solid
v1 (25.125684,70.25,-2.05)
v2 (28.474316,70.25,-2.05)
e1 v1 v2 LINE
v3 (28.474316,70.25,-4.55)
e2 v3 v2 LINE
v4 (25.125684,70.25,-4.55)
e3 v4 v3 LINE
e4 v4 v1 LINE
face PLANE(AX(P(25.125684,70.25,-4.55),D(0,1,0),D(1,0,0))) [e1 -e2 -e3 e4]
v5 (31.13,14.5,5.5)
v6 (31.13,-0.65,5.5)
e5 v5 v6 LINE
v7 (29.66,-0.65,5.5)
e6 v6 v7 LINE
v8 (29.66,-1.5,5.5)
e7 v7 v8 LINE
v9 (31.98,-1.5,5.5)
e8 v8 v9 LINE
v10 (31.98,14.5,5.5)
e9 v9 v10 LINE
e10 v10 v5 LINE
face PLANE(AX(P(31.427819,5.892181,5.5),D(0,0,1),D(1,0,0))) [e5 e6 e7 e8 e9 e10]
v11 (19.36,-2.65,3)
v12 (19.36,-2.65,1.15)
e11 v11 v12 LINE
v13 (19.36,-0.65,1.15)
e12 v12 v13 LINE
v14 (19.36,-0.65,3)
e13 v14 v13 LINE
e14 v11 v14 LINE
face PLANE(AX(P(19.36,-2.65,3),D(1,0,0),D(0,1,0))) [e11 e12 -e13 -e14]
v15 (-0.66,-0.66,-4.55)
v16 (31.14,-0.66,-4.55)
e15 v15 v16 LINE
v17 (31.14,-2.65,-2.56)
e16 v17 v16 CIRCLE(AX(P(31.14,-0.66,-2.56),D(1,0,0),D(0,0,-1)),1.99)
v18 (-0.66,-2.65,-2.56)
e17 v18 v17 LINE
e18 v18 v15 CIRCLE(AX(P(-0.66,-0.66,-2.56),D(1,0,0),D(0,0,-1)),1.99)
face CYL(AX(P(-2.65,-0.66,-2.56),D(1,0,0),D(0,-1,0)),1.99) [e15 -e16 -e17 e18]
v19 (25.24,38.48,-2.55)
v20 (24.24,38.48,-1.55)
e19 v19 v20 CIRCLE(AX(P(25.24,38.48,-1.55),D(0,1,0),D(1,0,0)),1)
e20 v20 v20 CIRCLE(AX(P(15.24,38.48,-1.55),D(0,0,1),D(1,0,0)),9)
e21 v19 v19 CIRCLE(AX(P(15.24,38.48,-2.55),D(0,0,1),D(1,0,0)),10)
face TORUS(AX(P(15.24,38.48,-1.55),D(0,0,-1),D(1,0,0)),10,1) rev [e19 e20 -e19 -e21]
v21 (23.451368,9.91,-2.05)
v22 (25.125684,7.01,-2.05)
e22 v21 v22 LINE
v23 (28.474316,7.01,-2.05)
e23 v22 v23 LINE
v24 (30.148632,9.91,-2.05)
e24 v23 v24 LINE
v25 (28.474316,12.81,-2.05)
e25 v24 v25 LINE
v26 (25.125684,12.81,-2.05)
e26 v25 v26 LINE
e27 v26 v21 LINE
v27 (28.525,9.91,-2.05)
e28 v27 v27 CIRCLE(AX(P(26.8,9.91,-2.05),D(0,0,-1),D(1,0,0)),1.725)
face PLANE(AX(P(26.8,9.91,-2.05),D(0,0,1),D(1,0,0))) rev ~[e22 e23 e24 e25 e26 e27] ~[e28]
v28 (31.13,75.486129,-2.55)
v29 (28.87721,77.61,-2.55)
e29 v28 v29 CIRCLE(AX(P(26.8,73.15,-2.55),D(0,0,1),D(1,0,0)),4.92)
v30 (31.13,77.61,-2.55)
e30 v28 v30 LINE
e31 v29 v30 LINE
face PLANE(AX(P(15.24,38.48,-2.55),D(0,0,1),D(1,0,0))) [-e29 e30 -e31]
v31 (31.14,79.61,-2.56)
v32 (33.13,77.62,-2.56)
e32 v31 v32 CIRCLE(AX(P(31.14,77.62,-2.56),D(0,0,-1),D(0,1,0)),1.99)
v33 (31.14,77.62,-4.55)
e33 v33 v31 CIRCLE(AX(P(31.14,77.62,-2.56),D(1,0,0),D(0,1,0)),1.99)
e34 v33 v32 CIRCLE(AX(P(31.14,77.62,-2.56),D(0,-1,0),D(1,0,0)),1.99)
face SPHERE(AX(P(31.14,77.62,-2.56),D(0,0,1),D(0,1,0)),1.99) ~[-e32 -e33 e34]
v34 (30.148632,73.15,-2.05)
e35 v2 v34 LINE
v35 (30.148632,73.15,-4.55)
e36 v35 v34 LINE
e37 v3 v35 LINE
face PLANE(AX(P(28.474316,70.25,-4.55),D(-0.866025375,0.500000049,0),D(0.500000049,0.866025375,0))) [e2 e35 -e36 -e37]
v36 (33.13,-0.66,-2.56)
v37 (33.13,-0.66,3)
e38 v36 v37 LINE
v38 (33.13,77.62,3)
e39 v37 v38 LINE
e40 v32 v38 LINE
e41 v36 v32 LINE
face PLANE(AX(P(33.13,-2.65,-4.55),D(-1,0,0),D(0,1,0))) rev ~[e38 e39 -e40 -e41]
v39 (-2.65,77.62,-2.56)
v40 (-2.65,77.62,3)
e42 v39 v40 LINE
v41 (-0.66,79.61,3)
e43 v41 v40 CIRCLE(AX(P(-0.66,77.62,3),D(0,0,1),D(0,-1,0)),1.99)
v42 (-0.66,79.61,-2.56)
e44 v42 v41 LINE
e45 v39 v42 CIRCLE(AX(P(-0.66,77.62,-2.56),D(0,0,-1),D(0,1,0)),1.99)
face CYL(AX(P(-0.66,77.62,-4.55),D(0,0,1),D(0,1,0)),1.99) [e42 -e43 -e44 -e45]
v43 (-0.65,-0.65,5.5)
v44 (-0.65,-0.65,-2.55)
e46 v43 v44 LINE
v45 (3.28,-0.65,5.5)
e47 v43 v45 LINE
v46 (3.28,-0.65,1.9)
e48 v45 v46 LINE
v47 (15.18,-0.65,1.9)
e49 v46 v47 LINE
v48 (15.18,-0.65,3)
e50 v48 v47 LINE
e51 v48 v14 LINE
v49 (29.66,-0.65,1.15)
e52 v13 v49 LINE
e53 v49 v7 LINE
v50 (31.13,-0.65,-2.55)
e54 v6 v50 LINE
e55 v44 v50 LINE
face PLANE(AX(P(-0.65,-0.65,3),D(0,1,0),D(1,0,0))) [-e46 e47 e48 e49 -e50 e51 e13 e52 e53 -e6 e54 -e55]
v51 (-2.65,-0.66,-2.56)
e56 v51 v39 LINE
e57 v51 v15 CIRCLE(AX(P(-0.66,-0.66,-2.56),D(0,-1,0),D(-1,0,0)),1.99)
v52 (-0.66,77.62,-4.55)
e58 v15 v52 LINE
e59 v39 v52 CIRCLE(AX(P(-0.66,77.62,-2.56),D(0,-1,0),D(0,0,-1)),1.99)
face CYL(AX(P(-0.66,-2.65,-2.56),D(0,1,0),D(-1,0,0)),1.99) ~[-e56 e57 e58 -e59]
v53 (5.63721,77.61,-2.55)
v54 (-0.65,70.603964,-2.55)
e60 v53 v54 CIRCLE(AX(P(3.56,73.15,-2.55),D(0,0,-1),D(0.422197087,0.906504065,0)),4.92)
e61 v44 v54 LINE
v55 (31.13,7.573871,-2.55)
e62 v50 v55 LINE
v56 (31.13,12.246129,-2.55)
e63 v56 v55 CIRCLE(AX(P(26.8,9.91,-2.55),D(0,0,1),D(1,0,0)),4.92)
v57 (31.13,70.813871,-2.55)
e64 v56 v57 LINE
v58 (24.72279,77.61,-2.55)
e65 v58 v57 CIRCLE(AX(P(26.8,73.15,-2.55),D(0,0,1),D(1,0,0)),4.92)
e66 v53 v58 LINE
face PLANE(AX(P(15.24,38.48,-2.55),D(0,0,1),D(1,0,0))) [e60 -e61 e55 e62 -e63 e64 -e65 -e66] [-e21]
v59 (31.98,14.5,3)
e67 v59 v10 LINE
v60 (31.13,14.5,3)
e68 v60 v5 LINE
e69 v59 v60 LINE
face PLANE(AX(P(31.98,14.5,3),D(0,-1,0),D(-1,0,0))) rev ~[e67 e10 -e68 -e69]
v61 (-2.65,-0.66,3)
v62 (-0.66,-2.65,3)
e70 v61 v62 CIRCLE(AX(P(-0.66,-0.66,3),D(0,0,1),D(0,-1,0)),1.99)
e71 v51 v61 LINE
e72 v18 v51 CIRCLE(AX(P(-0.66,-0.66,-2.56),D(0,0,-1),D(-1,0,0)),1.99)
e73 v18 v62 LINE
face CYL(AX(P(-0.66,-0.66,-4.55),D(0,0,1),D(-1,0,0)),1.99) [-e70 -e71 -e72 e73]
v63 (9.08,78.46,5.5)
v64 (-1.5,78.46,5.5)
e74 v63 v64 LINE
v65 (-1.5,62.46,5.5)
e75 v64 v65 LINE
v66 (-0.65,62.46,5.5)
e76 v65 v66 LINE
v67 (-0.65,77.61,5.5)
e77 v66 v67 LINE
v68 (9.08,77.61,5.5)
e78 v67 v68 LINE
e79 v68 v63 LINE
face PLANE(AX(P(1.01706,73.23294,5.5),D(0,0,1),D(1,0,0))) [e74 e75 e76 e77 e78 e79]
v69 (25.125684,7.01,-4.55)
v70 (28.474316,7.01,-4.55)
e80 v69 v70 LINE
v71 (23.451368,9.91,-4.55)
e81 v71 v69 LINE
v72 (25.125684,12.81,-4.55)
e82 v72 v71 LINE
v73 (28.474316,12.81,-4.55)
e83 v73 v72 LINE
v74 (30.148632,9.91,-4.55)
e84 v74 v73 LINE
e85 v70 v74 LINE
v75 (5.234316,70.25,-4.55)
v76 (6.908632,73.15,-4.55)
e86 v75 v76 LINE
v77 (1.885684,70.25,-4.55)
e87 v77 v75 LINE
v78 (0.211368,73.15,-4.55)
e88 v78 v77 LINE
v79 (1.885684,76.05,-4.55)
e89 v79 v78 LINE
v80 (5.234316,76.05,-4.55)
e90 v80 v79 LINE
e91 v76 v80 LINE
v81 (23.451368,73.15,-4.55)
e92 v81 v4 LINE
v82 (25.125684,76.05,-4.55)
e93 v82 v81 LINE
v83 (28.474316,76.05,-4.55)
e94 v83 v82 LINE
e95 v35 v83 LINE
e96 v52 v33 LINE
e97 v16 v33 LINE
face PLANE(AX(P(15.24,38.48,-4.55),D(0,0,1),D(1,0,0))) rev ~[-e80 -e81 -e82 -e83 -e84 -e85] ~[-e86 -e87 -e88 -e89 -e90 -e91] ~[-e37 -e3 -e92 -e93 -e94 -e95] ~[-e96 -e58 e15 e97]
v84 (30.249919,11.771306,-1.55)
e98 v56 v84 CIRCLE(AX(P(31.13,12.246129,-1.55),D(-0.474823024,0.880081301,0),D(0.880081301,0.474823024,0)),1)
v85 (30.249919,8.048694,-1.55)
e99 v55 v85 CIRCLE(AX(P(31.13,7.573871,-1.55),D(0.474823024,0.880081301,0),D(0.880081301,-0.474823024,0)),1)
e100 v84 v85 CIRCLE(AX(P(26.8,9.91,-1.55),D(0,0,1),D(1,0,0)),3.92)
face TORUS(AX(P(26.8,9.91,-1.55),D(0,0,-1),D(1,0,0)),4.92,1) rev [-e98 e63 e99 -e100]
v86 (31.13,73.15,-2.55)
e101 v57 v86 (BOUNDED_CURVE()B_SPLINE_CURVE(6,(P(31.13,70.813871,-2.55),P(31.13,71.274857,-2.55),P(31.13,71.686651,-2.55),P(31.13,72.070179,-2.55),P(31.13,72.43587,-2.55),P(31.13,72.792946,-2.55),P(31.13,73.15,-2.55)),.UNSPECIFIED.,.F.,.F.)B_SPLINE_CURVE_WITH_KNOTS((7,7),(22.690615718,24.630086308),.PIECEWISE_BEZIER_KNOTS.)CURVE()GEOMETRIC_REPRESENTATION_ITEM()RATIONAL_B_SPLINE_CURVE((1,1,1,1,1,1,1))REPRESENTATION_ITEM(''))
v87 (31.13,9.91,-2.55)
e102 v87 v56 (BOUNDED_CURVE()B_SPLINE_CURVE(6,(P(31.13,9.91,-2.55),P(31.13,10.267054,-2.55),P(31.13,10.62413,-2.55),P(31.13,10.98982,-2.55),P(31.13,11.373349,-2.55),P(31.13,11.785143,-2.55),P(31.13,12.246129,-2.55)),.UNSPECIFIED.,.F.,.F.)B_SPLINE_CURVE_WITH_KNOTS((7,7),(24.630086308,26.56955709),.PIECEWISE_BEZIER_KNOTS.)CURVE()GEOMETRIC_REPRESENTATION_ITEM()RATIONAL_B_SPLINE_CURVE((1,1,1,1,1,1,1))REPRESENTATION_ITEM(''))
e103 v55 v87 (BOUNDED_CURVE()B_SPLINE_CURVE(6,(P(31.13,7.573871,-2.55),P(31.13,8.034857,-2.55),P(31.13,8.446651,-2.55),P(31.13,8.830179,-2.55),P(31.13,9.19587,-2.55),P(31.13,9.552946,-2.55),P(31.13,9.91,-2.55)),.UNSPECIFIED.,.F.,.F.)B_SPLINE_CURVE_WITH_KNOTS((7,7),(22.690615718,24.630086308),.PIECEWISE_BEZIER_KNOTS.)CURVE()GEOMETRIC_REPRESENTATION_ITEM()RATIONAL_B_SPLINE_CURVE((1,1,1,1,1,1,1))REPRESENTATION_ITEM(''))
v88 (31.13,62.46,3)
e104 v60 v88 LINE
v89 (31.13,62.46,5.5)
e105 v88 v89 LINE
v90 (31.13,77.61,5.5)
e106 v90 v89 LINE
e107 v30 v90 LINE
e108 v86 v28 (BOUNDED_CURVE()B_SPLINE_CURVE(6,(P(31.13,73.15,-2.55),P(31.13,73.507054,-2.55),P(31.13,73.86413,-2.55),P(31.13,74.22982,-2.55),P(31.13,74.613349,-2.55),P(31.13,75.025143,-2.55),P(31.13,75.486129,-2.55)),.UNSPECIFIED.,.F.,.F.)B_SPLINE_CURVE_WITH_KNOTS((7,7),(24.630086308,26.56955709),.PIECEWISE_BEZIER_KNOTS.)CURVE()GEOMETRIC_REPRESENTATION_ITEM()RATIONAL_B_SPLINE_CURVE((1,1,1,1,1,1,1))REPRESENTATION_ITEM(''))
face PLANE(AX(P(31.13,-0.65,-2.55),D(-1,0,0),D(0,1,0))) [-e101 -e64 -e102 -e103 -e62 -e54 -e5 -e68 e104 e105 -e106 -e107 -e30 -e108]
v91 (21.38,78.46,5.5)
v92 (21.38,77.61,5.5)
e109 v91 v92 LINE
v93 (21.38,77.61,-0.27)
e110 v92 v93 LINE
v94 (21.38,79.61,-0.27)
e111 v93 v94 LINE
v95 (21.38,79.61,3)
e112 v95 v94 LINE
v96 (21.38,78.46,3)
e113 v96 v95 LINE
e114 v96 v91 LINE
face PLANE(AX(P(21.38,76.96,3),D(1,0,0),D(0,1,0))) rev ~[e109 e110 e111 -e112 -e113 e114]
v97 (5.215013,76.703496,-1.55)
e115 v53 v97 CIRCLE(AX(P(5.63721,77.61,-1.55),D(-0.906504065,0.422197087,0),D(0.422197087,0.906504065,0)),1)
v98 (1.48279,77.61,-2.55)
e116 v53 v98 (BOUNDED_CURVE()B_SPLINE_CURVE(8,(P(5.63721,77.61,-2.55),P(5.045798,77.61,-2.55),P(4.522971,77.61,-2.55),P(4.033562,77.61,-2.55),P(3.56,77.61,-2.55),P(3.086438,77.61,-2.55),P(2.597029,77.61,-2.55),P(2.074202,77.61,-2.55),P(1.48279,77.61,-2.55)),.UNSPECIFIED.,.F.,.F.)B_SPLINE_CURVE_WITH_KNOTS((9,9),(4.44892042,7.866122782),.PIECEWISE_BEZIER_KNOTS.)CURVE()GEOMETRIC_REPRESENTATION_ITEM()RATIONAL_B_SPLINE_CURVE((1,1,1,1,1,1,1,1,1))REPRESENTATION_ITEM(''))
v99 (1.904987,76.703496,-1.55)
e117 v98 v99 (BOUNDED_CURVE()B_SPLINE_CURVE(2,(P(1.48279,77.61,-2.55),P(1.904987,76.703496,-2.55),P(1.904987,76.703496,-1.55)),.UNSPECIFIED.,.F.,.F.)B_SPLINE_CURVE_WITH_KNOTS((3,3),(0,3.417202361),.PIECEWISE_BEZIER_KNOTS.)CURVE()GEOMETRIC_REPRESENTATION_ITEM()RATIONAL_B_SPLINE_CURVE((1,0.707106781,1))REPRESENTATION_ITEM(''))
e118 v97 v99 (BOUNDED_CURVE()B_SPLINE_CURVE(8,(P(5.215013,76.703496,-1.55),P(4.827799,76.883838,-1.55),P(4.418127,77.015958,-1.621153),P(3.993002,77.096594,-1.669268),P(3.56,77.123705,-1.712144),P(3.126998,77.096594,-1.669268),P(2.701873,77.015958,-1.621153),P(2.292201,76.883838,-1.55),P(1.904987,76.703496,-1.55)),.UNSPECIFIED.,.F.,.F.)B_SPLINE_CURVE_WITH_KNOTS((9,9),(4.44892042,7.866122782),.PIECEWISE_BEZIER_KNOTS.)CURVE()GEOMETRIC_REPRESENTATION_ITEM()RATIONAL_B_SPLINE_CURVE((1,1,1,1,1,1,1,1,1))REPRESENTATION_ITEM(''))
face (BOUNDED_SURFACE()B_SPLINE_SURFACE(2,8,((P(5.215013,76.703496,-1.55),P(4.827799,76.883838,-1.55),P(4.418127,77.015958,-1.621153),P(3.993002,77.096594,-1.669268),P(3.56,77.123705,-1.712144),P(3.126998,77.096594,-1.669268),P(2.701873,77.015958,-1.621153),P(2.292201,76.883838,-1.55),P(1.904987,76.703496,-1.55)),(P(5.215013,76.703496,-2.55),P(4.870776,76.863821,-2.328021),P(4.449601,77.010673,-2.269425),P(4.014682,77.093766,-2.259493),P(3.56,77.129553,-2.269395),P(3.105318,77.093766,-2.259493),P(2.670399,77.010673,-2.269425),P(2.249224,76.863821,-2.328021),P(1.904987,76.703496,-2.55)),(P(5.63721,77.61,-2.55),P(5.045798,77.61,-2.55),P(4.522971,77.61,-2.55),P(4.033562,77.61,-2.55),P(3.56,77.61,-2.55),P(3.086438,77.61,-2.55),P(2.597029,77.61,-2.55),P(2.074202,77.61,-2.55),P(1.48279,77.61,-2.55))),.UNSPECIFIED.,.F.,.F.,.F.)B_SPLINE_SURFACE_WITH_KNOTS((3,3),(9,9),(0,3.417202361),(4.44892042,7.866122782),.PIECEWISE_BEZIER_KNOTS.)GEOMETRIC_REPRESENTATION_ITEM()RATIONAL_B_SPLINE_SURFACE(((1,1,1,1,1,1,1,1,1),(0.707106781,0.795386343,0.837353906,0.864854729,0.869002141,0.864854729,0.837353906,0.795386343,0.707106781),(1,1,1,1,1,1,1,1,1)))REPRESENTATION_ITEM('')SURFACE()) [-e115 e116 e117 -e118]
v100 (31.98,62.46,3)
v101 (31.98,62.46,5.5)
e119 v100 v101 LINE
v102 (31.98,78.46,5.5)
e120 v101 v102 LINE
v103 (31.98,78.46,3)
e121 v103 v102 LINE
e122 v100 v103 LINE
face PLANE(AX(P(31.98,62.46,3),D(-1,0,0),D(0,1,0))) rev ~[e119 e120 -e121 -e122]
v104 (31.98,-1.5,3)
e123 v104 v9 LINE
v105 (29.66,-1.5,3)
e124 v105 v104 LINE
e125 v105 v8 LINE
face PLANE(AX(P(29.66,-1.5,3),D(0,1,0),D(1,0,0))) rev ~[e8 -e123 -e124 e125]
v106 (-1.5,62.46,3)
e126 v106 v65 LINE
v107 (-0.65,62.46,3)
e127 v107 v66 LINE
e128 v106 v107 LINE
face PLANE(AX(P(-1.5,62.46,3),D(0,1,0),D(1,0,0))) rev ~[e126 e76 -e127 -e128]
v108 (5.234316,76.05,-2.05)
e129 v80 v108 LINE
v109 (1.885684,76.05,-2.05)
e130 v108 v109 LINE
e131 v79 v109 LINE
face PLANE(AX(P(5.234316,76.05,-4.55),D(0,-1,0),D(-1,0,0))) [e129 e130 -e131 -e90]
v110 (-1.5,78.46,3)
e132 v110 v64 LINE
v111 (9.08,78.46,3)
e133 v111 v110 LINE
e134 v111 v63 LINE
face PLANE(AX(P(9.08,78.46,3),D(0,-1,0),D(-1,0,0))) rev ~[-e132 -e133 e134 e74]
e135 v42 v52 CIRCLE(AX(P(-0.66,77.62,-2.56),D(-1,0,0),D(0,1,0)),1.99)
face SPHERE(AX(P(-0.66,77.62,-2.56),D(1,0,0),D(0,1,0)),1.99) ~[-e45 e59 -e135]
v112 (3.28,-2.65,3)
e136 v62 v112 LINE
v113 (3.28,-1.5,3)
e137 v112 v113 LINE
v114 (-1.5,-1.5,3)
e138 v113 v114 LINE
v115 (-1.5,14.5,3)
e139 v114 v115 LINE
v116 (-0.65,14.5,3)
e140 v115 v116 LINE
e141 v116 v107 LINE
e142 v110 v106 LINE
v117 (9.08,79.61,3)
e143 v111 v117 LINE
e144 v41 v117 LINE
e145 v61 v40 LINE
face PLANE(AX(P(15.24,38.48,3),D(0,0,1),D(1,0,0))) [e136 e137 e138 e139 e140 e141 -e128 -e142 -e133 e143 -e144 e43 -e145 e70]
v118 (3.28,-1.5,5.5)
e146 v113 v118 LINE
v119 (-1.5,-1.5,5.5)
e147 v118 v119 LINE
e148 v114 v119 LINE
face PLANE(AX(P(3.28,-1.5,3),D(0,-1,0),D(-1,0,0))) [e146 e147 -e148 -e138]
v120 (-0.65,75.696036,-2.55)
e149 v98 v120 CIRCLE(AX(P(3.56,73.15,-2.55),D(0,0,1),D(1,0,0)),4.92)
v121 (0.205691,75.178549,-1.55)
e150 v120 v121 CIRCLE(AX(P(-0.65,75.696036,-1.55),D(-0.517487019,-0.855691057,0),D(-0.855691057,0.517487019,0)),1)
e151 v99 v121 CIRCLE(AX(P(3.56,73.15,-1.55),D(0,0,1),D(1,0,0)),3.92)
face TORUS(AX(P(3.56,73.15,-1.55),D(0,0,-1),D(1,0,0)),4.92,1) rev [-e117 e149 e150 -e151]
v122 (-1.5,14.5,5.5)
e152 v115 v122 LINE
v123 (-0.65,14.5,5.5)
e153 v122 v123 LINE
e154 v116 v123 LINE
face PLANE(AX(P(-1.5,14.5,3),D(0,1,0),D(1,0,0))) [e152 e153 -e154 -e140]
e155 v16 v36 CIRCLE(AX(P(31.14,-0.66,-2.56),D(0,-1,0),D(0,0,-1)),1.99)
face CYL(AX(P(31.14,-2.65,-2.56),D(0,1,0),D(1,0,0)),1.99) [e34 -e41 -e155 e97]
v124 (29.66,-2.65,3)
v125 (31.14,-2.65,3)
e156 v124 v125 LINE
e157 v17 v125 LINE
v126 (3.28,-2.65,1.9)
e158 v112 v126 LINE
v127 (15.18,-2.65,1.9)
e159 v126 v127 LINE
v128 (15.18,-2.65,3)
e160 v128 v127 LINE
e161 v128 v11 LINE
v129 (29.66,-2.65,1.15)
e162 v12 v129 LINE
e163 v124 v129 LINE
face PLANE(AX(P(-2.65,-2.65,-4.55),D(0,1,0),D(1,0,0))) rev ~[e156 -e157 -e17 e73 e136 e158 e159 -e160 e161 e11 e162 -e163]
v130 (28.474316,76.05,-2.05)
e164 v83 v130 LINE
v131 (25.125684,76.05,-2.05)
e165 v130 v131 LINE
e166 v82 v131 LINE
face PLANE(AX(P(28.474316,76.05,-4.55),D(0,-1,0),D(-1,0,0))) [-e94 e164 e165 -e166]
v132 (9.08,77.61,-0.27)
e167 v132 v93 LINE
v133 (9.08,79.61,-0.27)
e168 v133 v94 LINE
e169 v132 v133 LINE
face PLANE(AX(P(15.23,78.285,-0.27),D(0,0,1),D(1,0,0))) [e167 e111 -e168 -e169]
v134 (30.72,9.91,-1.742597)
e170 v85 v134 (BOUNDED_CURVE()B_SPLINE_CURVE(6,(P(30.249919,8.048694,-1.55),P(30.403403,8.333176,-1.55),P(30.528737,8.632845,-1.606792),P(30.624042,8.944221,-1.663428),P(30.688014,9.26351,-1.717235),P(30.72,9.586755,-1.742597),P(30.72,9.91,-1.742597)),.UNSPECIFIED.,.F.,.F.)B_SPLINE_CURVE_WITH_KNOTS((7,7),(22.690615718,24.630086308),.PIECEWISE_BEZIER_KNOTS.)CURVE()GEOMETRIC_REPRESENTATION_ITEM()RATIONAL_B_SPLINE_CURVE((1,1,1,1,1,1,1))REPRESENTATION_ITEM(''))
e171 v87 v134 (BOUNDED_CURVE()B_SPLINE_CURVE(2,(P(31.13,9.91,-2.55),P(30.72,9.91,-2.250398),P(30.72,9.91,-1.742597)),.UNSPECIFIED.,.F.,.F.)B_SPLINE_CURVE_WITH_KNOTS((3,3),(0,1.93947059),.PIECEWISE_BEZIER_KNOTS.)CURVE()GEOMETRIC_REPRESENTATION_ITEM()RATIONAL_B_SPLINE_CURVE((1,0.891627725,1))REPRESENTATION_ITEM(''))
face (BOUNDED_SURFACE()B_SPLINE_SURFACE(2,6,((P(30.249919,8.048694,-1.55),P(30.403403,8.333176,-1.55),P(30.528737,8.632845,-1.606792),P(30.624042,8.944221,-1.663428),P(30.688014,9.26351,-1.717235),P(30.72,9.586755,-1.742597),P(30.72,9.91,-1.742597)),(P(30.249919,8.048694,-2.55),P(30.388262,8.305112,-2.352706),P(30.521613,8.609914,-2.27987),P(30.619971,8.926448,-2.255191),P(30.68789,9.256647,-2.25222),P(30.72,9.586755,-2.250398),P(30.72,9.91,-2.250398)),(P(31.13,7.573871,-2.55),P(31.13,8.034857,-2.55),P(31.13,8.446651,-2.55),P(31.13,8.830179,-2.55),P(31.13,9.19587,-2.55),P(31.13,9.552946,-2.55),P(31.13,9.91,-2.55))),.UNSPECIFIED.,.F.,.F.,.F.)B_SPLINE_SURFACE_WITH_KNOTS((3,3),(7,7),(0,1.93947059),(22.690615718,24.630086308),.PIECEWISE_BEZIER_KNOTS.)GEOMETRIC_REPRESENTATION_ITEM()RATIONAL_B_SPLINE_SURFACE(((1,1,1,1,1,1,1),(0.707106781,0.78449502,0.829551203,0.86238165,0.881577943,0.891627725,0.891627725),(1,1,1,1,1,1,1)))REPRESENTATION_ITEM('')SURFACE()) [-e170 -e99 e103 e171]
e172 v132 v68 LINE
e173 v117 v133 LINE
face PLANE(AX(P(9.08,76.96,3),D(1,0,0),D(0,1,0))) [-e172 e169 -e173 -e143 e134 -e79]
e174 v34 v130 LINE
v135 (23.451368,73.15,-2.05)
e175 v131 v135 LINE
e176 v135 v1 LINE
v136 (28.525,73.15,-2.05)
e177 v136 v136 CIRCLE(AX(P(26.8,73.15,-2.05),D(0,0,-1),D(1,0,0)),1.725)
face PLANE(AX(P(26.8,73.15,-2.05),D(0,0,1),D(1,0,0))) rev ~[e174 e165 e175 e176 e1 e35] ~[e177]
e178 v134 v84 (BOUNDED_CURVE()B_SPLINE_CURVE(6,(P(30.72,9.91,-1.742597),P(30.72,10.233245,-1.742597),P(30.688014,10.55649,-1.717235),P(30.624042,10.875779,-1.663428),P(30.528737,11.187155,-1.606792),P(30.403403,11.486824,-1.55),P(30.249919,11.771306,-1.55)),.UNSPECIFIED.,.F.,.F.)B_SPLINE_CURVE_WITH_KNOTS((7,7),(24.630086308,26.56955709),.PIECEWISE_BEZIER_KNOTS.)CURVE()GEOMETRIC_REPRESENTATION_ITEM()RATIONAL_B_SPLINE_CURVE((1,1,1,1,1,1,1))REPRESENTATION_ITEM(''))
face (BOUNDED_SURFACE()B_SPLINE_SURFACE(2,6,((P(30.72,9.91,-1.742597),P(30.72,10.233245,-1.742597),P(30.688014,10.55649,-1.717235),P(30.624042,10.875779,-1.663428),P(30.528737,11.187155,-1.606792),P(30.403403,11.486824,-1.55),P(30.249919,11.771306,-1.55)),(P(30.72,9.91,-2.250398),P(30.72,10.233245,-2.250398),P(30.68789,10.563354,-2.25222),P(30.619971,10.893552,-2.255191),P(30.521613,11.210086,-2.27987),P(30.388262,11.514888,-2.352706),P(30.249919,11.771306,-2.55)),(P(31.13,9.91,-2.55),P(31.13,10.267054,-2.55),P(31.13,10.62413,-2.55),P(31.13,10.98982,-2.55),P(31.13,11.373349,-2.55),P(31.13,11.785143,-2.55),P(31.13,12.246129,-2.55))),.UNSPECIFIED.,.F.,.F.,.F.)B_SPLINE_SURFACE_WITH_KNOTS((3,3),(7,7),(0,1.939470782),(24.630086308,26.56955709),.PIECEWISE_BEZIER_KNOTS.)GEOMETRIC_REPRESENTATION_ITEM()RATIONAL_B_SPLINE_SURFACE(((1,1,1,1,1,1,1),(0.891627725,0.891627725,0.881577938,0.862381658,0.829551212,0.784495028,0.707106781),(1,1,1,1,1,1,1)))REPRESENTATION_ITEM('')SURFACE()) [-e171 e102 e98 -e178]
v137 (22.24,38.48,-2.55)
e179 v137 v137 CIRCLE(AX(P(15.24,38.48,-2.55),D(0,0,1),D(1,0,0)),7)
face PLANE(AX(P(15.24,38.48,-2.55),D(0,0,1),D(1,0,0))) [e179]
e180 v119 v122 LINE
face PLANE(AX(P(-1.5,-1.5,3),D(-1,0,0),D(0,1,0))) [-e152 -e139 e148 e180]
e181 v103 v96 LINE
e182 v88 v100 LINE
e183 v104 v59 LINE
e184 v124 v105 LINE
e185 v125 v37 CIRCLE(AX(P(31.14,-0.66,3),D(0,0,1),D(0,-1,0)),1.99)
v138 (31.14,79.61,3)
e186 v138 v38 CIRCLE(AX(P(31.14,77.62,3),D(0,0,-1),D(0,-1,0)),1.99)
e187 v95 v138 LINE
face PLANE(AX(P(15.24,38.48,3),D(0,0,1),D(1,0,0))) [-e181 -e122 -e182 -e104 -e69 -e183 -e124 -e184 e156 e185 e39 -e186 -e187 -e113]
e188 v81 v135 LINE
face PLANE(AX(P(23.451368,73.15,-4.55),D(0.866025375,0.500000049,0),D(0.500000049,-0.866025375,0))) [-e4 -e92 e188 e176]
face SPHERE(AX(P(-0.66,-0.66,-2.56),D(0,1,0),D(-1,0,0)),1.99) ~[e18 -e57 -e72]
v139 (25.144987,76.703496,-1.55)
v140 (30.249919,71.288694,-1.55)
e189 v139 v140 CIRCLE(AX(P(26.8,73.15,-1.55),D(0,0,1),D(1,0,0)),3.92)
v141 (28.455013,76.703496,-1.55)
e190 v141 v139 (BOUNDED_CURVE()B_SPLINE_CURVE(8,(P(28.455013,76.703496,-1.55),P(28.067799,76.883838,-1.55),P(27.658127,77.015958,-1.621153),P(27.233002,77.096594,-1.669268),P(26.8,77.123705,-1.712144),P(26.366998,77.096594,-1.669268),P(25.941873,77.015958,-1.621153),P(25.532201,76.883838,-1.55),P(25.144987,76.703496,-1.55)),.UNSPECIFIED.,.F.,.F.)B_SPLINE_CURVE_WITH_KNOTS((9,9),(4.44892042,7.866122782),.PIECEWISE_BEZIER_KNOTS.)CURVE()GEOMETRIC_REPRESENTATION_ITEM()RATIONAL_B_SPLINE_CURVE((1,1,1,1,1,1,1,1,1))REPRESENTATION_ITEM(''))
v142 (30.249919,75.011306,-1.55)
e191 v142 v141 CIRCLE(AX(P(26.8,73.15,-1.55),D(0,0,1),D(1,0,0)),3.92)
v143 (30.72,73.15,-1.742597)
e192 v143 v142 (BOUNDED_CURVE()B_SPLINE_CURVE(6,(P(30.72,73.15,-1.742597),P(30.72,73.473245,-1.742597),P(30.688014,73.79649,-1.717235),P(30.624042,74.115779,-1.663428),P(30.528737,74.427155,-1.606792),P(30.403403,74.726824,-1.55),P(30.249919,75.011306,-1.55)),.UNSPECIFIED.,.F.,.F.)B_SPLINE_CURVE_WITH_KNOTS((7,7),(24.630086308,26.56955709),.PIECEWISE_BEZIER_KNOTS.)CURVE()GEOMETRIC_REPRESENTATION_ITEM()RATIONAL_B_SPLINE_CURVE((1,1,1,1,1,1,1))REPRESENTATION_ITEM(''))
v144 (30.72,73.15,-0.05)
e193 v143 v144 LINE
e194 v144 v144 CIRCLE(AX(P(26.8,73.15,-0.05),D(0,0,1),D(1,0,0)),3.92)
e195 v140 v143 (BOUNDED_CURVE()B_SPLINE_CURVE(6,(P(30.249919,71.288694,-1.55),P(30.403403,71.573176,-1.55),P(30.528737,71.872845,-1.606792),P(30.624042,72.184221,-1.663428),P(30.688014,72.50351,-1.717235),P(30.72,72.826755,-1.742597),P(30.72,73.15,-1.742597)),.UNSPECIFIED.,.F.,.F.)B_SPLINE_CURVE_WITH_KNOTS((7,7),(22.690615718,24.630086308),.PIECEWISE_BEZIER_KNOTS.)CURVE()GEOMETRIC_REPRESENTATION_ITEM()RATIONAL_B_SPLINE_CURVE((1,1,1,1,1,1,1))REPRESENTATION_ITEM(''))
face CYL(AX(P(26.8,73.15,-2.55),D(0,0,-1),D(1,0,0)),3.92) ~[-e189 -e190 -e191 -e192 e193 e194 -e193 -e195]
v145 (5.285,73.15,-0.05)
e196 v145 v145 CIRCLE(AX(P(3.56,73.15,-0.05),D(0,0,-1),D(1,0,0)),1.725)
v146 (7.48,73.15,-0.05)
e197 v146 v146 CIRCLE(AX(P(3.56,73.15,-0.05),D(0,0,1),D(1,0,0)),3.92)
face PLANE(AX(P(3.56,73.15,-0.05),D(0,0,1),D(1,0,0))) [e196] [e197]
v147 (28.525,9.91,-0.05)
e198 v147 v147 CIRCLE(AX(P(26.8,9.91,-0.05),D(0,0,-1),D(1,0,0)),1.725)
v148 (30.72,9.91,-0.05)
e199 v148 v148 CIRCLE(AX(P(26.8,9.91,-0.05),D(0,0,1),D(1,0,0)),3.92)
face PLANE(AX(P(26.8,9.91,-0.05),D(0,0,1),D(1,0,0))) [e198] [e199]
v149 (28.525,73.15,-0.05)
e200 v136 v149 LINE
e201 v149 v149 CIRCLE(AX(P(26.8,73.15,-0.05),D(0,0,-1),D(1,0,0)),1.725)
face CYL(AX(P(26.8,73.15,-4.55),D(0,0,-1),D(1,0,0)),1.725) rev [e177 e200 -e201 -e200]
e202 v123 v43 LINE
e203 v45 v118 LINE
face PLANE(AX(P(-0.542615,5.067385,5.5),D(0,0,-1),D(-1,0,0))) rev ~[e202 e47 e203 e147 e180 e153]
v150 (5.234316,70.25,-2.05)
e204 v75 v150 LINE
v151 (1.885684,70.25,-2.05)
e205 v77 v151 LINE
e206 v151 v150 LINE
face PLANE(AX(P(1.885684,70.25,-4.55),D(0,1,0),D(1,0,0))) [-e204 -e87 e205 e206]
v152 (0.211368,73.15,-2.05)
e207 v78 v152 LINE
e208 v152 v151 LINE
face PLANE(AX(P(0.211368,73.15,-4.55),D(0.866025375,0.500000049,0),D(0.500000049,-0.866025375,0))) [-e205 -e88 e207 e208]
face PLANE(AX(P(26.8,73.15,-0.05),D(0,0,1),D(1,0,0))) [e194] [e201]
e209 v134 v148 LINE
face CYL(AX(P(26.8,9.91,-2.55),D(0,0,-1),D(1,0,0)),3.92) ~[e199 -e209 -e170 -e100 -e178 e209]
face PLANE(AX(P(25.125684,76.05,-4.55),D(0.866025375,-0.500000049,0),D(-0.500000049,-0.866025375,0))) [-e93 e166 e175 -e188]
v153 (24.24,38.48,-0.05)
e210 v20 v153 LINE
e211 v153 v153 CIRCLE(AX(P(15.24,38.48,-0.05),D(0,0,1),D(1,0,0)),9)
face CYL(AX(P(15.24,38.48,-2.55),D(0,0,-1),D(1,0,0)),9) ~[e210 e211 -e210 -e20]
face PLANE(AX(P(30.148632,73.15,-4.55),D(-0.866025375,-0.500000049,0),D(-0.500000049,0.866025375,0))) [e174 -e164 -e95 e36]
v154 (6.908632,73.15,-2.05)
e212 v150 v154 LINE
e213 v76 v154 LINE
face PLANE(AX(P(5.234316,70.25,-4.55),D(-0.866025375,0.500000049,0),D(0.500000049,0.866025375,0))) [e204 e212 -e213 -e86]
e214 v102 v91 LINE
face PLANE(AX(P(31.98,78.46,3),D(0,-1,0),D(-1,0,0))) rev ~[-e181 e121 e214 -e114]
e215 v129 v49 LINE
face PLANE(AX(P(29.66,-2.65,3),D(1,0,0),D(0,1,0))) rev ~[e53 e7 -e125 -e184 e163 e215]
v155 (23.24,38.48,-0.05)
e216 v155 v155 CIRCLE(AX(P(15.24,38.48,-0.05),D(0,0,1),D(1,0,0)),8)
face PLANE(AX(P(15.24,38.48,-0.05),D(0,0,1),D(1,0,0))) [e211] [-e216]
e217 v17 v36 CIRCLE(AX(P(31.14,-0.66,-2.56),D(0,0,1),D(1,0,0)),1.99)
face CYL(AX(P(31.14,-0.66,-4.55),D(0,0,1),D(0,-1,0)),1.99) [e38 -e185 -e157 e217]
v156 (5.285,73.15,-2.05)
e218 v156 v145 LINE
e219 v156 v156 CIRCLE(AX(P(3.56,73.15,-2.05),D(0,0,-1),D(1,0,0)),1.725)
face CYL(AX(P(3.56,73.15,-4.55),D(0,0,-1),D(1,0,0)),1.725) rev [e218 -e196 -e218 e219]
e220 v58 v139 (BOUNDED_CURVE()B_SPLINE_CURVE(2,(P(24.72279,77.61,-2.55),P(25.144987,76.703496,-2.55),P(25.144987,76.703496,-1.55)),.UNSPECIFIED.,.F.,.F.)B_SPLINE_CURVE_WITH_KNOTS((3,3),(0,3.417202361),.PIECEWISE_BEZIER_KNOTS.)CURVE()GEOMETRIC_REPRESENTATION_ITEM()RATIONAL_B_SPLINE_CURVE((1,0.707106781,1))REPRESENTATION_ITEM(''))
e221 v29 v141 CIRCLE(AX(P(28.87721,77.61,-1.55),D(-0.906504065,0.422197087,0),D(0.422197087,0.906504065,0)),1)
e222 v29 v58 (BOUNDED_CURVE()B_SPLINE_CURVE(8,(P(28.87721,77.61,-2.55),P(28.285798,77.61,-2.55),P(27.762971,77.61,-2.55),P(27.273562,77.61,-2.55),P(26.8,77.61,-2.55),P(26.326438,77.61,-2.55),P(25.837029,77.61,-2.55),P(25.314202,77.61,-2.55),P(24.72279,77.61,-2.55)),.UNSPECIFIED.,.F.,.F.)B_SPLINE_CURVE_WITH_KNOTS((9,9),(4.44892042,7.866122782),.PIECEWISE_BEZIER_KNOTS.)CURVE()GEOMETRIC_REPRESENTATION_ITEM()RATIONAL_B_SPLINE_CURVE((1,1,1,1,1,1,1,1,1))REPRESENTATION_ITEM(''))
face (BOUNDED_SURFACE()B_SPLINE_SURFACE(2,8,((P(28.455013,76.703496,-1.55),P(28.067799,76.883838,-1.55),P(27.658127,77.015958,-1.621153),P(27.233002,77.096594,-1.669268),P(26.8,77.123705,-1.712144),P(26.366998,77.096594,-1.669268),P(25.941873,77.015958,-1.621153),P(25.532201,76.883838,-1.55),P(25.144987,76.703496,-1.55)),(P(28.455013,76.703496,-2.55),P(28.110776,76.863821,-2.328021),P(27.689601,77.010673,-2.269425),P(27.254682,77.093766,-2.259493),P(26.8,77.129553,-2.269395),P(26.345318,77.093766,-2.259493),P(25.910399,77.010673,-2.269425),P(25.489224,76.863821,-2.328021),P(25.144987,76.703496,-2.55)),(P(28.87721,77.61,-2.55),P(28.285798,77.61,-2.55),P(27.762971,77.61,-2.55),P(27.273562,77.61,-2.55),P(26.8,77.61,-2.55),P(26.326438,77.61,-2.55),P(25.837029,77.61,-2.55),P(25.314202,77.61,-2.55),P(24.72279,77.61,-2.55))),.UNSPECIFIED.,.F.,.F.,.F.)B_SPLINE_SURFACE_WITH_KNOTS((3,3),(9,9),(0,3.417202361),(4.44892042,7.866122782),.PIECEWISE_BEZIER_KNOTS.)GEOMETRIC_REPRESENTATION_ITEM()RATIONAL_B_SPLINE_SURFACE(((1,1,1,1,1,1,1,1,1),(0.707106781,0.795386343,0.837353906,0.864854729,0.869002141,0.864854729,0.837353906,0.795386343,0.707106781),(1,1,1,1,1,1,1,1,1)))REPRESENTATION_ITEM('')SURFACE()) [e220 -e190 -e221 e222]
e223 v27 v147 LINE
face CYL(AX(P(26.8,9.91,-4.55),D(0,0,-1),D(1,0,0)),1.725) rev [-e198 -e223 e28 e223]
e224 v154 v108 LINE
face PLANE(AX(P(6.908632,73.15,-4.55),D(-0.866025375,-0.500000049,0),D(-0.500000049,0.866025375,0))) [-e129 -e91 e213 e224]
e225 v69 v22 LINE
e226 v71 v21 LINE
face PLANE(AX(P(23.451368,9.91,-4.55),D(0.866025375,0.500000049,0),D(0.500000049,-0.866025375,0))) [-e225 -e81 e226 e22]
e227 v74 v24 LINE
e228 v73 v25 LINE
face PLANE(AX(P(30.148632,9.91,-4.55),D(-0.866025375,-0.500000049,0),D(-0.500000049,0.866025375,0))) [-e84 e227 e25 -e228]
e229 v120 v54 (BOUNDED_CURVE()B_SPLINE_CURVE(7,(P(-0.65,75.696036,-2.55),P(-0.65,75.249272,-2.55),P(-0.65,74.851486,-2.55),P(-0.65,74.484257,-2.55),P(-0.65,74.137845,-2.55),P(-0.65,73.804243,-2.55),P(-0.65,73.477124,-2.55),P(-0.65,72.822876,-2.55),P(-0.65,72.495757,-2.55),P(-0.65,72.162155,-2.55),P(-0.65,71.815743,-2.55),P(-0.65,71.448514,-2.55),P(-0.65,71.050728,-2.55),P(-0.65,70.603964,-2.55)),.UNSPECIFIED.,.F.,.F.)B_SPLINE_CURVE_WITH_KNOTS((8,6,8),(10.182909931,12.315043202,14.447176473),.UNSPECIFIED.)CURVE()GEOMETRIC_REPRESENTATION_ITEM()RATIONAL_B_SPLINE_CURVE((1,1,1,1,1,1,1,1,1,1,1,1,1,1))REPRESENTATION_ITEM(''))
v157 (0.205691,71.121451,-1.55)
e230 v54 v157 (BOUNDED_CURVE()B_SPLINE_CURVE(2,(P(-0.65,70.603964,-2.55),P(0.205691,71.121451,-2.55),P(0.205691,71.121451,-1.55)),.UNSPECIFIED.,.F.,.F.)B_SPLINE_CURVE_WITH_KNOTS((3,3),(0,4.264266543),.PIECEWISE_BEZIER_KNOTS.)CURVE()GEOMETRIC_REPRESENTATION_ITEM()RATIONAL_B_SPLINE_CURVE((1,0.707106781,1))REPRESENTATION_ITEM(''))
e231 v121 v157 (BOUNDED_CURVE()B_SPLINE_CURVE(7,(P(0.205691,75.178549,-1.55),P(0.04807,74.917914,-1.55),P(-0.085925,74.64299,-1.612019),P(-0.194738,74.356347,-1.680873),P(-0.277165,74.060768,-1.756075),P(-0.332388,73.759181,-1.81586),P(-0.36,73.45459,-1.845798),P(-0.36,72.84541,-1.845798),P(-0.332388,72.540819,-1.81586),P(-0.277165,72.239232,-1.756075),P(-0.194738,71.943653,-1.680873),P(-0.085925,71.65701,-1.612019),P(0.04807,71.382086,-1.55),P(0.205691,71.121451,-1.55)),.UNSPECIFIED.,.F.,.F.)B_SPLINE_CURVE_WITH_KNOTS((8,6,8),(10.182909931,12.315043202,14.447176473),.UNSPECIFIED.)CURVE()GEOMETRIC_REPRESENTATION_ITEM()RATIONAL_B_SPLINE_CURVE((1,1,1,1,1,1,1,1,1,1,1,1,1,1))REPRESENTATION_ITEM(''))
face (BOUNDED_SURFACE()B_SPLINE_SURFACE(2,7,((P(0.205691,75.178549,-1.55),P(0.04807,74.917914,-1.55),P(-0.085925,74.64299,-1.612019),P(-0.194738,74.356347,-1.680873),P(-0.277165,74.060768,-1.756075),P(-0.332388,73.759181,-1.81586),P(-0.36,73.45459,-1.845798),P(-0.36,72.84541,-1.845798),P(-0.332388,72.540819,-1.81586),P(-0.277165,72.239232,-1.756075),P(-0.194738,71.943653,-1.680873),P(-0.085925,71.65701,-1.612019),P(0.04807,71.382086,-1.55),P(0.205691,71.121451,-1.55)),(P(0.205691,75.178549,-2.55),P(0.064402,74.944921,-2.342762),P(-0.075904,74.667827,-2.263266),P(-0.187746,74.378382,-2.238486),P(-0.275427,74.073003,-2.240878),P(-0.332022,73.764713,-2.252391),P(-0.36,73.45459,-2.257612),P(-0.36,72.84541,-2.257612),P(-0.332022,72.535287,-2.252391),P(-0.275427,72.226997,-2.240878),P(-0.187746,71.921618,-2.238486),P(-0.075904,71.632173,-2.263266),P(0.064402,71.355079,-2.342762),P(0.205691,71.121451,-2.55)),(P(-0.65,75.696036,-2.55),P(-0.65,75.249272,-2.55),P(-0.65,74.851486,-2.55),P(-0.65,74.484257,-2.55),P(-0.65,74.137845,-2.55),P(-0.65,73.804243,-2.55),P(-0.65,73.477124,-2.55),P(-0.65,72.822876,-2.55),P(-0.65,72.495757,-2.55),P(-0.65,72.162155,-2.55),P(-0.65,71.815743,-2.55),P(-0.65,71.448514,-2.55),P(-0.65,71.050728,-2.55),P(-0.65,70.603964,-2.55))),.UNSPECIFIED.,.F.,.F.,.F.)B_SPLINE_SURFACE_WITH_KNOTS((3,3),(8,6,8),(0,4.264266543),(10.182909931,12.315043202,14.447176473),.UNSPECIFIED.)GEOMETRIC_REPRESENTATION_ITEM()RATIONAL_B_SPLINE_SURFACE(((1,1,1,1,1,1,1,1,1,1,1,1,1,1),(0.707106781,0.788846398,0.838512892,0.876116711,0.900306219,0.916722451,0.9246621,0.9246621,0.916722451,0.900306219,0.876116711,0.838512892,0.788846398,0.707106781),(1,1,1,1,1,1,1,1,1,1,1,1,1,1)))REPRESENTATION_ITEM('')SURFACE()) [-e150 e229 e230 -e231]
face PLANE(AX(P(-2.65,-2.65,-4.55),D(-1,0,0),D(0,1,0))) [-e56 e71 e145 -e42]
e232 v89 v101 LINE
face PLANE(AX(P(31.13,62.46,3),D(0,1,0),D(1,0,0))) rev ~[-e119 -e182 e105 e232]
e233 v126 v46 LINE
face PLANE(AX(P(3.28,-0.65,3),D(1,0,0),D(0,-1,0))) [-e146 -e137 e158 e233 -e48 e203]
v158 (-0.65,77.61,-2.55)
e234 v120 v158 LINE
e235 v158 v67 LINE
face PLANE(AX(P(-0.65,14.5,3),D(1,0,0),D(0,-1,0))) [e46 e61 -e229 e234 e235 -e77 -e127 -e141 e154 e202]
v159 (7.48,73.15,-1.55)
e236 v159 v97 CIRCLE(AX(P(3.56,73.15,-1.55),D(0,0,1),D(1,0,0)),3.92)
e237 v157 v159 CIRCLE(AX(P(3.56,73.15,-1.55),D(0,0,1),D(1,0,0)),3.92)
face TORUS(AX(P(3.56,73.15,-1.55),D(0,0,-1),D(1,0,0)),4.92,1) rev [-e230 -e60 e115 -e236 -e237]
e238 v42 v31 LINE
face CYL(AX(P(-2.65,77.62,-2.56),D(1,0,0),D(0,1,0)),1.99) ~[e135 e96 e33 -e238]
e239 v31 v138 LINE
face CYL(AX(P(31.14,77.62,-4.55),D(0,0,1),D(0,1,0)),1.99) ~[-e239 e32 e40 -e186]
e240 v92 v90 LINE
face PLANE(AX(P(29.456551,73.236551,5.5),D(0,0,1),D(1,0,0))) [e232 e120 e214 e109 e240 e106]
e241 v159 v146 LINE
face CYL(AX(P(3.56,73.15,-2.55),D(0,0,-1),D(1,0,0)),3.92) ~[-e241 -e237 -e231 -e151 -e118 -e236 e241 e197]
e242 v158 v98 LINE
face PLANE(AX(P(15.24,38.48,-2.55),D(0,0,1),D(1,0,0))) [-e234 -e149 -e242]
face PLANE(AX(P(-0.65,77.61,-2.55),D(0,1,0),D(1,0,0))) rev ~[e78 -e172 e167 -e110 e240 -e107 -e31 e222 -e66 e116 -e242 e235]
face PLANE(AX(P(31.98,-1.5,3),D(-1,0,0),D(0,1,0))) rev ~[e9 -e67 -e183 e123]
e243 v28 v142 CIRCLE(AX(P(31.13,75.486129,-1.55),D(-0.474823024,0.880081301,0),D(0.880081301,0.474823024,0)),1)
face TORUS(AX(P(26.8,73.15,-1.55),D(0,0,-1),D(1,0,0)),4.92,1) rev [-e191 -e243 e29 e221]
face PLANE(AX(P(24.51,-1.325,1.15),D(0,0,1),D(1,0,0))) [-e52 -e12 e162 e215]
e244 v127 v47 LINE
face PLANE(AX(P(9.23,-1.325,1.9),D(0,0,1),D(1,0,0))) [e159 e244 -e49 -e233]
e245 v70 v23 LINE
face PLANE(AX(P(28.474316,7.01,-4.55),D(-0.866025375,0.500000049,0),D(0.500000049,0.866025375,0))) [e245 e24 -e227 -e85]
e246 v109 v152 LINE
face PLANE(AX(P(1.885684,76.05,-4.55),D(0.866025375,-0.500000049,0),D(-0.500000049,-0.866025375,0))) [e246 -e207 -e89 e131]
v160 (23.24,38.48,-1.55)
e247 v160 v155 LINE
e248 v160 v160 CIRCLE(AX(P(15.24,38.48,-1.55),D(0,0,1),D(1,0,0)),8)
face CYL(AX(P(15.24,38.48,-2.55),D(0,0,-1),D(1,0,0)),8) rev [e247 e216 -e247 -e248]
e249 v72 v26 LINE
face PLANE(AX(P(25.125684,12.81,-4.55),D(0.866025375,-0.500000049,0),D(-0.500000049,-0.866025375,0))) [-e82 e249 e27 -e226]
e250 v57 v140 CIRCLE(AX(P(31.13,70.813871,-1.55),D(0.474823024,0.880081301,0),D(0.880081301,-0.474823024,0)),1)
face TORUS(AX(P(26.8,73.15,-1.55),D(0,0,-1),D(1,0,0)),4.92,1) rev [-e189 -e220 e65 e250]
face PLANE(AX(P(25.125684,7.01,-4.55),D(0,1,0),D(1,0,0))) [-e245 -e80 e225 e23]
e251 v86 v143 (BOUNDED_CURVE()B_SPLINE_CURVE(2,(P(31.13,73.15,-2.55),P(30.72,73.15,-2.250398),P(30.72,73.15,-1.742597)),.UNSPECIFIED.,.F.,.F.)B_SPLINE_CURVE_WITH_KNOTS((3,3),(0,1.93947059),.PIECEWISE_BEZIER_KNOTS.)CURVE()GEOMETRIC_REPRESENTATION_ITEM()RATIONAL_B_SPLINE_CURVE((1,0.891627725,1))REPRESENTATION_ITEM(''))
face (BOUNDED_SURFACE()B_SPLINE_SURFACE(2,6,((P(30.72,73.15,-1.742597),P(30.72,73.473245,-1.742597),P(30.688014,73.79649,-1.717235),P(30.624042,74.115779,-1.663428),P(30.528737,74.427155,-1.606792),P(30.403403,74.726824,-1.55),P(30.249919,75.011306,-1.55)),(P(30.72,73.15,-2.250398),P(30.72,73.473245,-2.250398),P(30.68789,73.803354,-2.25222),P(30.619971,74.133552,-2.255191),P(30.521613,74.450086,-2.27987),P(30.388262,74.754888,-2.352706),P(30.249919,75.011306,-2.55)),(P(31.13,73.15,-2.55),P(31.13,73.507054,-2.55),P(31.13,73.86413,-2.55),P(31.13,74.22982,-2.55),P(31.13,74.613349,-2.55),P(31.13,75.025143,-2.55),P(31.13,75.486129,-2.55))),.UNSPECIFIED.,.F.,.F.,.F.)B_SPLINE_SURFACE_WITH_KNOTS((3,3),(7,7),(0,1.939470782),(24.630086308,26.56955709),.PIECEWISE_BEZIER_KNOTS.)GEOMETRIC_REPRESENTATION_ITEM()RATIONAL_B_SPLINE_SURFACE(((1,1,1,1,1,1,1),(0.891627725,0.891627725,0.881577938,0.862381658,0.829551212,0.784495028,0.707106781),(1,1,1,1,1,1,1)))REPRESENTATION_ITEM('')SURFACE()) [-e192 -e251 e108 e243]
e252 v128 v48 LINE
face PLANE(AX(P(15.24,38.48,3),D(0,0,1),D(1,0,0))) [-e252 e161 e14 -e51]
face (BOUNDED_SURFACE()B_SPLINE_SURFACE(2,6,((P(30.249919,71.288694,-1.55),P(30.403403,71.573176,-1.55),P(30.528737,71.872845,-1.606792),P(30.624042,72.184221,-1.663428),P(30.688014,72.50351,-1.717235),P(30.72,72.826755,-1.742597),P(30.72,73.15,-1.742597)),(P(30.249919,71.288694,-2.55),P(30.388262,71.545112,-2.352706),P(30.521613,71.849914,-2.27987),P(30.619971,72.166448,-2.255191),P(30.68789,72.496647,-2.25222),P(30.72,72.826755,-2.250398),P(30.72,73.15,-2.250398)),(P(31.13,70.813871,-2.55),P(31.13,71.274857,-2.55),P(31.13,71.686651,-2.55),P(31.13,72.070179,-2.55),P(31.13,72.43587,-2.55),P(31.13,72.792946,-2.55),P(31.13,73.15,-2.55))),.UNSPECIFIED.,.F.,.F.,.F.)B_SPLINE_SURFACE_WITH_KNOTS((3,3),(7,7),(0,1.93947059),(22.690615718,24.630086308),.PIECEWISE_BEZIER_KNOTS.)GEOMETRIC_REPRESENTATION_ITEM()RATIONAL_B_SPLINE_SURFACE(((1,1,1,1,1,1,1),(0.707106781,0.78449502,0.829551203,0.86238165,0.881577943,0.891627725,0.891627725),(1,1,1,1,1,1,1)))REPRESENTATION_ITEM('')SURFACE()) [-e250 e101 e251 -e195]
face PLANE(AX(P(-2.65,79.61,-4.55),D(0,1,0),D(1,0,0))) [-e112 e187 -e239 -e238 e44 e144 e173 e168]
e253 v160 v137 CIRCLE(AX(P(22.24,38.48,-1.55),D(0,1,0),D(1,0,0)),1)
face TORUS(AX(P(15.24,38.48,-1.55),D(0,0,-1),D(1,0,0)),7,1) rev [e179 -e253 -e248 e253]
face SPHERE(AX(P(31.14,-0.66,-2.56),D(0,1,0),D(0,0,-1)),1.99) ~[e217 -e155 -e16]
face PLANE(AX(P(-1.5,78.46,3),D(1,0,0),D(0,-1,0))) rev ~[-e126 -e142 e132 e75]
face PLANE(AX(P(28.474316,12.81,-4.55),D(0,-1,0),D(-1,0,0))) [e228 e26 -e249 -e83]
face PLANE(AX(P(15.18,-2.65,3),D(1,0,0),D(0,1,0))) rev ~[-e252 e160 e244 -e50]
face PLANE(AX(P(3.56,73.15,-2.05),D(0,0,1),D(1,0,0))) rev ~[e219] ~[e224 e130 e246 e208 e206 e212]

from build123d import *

# Parameters (mm, degrees)
SKETCH_W        = 35.78
SKETCH_H        = 82.26
PAD_DEPTH       = 7.55
SKETCH001_W     = 31.78
SKETCH001_H     = 78.26
POCKET_DEPTH    = 5.55
SKETCH002_R     = 3.92
SKETCH002_R_2   = 9
SKETCH002_R_3   = 8
PAD001_DEPTH    = 2.5
SKETCH003_R     = 1.725
HOLE_DEPTH      = 25
SKETCH004_W     = 11.9
SKETCH004_H     = 2.65
POCKET001_DEPTH = 1.1
SKETCH005_W     = 10.3
SKETCH005_H     = 2.65
POCKET002_DEPTH = 1.85
SKETCH006_W     = 12.3
SKETCH006_H     = 2.65
POCKET003_DEPTH = 3.27
PAD002_DEPTH    = 2.5
POCKET004_DEPTH = 2.5
FILLET_R        = 1
FILLET001_R     = 1.99


with BuildPart() as part:
    # Sketch → Pad (new body)
    with BuildSketch(Plane.XY.offset(-4.55)):
        with Locations((15.24, 38.48)):
            Rectangle(SKETCH_W, SKETCH_H)
    extrude(amount=PAD_DEPTH)

    # Sketch001 → Pocket (cut)
    with BuildSketch(Plane.XY.offset(-2.55)):
        with Locations((15.24, 38.48)):
            Rectangle(SKETCH001_W, SKETCH001_H)
    extrude(amount=POCKET_DEPTH, mode=Mode.SUBTRACT)

    # Sketch002 → Pad001 (join)
    with BuildSketch(Plane.XY.offset(-2.55)):
        with Locations((26.8, 9.91)):
            Circle(SKETCH002_R)
        with Locations((3.56, 73.15)):
            Circle(SKETCH002_R)
        with Locations((26.8, 73.15)):
            Circle(SKETCH002_R)
        with Locations((15.24, 38.48)):
            Circle(SKETCH002_R_2)
        with Locations((15.24, 38.48)):
            Circle(SKETCH002_R_3, mode=Mode.SUBTRACT)
    extrude(amount=PAD001_DEPTH)

    # Sketch003 → Hole (cut)
    with BuildSketch(Plane.XY.offset(-4.55)):
        with Locations((26.8, 9.91)):
            Circle(SKETCH003_R)
        with Locations((3.56, 73.15)):
            Circle(SKETCH003_R)
        with Locations((26.8, 73.15)):
            Circle(SKETCH003_R)
    extrude(amount=HOLE_DEPTH, mode=Mode.SUBTRACT)

    # Sketch004 → Pocket001 (cut)
    with BuildSketch(Plane.XY.offset(3)):
        with Locations((9.23, -1.325)):
            Rectangle(SKETCH004_W, SKETCH004_H)
    extrude(amount=-POCKET001_DEPTH, mode=Mode.SUBTRACT)

    # Sketch005 → Pocket002 (cut)
    with BuildSketch(Plane.XY.offset(3)):
        with Locations((24.51, -1.325)):
            Rectangle(SKETCH005_W, SKETCH005_H)
    extrude(amount=-POCKET002_DEPTH, mode=Mode.SUBTRACT)

    # Sketch006 → Pocket003 (cut)
    with BuildSketch(Plane.XY.offset(3)):
        with Locations((15.23, 78.285)):
            Rectangle(SKETCH006_W, SKETCH006_H)
    extrude(amount=-POCKET003_DEPTH, mode=Mode.SUBTRACT)

    # Sketch007 → Pad002 (join)
    with BuildSketch(Plane.XY.offset(3)):
        Polygon((-0.65, 14.5), (-0.65, -0.65), (3.28, -0.65), (3.28, -1.5), (-1.5, -1.5), (-1.5, 14.5), align=None)
        Polygon((29.66, -0.65), (29.66, -1.5), (31.98, -1.5), (31.98, 14.5), (31.13, 14.5), (31.13, -0.65), align=None)
        Polygon((-1.5, 78.46), (-1.5, 62.46), (-0.65, 62.46), (-0.65, 77.61), (9.08, 77.61), (9.08, 78.46), align=None)
        Polygon((21.38, 78.46), (21.38, 77.61), (31.13, 77.61), (31.13, 62.46), (31.98, 62.46), (31.98, 78.46), align=None)
    extrude(amount=PAD002_DEPTH)

    # Sketch008 → Pocket004 (cut)
    with BuildSketch(Plane.XY.offset(-4.55)):
        Polygon((28.474316, 7.01), (30.148632, 9.91), (28.474316, 12.81), (25.125684, 12.81), (23.451368, 9.91), (25.125684, 7.01), align=None)
        Polygon((28.474316, 70.25), (30.148632, 73.15), (28.474316, 76.05), (25.125684, 76.05), (23.451368, 73.15), (25.125684, 70.25), align=None)
        Polygon((5.234316, 70.25), (6.908632, 73.15), (5.234316, 76.05), (1.885684, 76.05), (0.211368, 73.15), (1.885684, 70.25), align=None)
    extrude(amount=POCKET004_DEPTH, mode=Mode.SUBTRACT)

    # Fillet
    fillet_edges = [part.edges().sort_by_distance(p)[0] for p in [
        (-0.36, 73.15, -2.55),
        (7.24, 38.48, -2.55),
        (22.88, 73.15, -2.55),
        (6.24, 38.48, -2.55),
        (22.88, 9.91, -2.55),
    ]]
    fillet(fillet_edges, radius=FILLET_R)

    # Fillet001
    fillet001_edges = [part.edges().sort_by_distance(p)[0] for p in [
        (33.13, 79.61, -0.775),
        (15.24, 79.61, -4.55),
        (-2.65, 79.61, -0.775),
        (-2.65, 38.48, -4.55),
        (33.13, 38.48, -4.55),
        (-2.65, -2.65, -0.775),
        (15.24, -2.65, -4.55),
        (33.13, -2.65, -0.775),
    ]]
    fillet(fillet001_edges, radius=FILLET001_R)


solid = part.part
